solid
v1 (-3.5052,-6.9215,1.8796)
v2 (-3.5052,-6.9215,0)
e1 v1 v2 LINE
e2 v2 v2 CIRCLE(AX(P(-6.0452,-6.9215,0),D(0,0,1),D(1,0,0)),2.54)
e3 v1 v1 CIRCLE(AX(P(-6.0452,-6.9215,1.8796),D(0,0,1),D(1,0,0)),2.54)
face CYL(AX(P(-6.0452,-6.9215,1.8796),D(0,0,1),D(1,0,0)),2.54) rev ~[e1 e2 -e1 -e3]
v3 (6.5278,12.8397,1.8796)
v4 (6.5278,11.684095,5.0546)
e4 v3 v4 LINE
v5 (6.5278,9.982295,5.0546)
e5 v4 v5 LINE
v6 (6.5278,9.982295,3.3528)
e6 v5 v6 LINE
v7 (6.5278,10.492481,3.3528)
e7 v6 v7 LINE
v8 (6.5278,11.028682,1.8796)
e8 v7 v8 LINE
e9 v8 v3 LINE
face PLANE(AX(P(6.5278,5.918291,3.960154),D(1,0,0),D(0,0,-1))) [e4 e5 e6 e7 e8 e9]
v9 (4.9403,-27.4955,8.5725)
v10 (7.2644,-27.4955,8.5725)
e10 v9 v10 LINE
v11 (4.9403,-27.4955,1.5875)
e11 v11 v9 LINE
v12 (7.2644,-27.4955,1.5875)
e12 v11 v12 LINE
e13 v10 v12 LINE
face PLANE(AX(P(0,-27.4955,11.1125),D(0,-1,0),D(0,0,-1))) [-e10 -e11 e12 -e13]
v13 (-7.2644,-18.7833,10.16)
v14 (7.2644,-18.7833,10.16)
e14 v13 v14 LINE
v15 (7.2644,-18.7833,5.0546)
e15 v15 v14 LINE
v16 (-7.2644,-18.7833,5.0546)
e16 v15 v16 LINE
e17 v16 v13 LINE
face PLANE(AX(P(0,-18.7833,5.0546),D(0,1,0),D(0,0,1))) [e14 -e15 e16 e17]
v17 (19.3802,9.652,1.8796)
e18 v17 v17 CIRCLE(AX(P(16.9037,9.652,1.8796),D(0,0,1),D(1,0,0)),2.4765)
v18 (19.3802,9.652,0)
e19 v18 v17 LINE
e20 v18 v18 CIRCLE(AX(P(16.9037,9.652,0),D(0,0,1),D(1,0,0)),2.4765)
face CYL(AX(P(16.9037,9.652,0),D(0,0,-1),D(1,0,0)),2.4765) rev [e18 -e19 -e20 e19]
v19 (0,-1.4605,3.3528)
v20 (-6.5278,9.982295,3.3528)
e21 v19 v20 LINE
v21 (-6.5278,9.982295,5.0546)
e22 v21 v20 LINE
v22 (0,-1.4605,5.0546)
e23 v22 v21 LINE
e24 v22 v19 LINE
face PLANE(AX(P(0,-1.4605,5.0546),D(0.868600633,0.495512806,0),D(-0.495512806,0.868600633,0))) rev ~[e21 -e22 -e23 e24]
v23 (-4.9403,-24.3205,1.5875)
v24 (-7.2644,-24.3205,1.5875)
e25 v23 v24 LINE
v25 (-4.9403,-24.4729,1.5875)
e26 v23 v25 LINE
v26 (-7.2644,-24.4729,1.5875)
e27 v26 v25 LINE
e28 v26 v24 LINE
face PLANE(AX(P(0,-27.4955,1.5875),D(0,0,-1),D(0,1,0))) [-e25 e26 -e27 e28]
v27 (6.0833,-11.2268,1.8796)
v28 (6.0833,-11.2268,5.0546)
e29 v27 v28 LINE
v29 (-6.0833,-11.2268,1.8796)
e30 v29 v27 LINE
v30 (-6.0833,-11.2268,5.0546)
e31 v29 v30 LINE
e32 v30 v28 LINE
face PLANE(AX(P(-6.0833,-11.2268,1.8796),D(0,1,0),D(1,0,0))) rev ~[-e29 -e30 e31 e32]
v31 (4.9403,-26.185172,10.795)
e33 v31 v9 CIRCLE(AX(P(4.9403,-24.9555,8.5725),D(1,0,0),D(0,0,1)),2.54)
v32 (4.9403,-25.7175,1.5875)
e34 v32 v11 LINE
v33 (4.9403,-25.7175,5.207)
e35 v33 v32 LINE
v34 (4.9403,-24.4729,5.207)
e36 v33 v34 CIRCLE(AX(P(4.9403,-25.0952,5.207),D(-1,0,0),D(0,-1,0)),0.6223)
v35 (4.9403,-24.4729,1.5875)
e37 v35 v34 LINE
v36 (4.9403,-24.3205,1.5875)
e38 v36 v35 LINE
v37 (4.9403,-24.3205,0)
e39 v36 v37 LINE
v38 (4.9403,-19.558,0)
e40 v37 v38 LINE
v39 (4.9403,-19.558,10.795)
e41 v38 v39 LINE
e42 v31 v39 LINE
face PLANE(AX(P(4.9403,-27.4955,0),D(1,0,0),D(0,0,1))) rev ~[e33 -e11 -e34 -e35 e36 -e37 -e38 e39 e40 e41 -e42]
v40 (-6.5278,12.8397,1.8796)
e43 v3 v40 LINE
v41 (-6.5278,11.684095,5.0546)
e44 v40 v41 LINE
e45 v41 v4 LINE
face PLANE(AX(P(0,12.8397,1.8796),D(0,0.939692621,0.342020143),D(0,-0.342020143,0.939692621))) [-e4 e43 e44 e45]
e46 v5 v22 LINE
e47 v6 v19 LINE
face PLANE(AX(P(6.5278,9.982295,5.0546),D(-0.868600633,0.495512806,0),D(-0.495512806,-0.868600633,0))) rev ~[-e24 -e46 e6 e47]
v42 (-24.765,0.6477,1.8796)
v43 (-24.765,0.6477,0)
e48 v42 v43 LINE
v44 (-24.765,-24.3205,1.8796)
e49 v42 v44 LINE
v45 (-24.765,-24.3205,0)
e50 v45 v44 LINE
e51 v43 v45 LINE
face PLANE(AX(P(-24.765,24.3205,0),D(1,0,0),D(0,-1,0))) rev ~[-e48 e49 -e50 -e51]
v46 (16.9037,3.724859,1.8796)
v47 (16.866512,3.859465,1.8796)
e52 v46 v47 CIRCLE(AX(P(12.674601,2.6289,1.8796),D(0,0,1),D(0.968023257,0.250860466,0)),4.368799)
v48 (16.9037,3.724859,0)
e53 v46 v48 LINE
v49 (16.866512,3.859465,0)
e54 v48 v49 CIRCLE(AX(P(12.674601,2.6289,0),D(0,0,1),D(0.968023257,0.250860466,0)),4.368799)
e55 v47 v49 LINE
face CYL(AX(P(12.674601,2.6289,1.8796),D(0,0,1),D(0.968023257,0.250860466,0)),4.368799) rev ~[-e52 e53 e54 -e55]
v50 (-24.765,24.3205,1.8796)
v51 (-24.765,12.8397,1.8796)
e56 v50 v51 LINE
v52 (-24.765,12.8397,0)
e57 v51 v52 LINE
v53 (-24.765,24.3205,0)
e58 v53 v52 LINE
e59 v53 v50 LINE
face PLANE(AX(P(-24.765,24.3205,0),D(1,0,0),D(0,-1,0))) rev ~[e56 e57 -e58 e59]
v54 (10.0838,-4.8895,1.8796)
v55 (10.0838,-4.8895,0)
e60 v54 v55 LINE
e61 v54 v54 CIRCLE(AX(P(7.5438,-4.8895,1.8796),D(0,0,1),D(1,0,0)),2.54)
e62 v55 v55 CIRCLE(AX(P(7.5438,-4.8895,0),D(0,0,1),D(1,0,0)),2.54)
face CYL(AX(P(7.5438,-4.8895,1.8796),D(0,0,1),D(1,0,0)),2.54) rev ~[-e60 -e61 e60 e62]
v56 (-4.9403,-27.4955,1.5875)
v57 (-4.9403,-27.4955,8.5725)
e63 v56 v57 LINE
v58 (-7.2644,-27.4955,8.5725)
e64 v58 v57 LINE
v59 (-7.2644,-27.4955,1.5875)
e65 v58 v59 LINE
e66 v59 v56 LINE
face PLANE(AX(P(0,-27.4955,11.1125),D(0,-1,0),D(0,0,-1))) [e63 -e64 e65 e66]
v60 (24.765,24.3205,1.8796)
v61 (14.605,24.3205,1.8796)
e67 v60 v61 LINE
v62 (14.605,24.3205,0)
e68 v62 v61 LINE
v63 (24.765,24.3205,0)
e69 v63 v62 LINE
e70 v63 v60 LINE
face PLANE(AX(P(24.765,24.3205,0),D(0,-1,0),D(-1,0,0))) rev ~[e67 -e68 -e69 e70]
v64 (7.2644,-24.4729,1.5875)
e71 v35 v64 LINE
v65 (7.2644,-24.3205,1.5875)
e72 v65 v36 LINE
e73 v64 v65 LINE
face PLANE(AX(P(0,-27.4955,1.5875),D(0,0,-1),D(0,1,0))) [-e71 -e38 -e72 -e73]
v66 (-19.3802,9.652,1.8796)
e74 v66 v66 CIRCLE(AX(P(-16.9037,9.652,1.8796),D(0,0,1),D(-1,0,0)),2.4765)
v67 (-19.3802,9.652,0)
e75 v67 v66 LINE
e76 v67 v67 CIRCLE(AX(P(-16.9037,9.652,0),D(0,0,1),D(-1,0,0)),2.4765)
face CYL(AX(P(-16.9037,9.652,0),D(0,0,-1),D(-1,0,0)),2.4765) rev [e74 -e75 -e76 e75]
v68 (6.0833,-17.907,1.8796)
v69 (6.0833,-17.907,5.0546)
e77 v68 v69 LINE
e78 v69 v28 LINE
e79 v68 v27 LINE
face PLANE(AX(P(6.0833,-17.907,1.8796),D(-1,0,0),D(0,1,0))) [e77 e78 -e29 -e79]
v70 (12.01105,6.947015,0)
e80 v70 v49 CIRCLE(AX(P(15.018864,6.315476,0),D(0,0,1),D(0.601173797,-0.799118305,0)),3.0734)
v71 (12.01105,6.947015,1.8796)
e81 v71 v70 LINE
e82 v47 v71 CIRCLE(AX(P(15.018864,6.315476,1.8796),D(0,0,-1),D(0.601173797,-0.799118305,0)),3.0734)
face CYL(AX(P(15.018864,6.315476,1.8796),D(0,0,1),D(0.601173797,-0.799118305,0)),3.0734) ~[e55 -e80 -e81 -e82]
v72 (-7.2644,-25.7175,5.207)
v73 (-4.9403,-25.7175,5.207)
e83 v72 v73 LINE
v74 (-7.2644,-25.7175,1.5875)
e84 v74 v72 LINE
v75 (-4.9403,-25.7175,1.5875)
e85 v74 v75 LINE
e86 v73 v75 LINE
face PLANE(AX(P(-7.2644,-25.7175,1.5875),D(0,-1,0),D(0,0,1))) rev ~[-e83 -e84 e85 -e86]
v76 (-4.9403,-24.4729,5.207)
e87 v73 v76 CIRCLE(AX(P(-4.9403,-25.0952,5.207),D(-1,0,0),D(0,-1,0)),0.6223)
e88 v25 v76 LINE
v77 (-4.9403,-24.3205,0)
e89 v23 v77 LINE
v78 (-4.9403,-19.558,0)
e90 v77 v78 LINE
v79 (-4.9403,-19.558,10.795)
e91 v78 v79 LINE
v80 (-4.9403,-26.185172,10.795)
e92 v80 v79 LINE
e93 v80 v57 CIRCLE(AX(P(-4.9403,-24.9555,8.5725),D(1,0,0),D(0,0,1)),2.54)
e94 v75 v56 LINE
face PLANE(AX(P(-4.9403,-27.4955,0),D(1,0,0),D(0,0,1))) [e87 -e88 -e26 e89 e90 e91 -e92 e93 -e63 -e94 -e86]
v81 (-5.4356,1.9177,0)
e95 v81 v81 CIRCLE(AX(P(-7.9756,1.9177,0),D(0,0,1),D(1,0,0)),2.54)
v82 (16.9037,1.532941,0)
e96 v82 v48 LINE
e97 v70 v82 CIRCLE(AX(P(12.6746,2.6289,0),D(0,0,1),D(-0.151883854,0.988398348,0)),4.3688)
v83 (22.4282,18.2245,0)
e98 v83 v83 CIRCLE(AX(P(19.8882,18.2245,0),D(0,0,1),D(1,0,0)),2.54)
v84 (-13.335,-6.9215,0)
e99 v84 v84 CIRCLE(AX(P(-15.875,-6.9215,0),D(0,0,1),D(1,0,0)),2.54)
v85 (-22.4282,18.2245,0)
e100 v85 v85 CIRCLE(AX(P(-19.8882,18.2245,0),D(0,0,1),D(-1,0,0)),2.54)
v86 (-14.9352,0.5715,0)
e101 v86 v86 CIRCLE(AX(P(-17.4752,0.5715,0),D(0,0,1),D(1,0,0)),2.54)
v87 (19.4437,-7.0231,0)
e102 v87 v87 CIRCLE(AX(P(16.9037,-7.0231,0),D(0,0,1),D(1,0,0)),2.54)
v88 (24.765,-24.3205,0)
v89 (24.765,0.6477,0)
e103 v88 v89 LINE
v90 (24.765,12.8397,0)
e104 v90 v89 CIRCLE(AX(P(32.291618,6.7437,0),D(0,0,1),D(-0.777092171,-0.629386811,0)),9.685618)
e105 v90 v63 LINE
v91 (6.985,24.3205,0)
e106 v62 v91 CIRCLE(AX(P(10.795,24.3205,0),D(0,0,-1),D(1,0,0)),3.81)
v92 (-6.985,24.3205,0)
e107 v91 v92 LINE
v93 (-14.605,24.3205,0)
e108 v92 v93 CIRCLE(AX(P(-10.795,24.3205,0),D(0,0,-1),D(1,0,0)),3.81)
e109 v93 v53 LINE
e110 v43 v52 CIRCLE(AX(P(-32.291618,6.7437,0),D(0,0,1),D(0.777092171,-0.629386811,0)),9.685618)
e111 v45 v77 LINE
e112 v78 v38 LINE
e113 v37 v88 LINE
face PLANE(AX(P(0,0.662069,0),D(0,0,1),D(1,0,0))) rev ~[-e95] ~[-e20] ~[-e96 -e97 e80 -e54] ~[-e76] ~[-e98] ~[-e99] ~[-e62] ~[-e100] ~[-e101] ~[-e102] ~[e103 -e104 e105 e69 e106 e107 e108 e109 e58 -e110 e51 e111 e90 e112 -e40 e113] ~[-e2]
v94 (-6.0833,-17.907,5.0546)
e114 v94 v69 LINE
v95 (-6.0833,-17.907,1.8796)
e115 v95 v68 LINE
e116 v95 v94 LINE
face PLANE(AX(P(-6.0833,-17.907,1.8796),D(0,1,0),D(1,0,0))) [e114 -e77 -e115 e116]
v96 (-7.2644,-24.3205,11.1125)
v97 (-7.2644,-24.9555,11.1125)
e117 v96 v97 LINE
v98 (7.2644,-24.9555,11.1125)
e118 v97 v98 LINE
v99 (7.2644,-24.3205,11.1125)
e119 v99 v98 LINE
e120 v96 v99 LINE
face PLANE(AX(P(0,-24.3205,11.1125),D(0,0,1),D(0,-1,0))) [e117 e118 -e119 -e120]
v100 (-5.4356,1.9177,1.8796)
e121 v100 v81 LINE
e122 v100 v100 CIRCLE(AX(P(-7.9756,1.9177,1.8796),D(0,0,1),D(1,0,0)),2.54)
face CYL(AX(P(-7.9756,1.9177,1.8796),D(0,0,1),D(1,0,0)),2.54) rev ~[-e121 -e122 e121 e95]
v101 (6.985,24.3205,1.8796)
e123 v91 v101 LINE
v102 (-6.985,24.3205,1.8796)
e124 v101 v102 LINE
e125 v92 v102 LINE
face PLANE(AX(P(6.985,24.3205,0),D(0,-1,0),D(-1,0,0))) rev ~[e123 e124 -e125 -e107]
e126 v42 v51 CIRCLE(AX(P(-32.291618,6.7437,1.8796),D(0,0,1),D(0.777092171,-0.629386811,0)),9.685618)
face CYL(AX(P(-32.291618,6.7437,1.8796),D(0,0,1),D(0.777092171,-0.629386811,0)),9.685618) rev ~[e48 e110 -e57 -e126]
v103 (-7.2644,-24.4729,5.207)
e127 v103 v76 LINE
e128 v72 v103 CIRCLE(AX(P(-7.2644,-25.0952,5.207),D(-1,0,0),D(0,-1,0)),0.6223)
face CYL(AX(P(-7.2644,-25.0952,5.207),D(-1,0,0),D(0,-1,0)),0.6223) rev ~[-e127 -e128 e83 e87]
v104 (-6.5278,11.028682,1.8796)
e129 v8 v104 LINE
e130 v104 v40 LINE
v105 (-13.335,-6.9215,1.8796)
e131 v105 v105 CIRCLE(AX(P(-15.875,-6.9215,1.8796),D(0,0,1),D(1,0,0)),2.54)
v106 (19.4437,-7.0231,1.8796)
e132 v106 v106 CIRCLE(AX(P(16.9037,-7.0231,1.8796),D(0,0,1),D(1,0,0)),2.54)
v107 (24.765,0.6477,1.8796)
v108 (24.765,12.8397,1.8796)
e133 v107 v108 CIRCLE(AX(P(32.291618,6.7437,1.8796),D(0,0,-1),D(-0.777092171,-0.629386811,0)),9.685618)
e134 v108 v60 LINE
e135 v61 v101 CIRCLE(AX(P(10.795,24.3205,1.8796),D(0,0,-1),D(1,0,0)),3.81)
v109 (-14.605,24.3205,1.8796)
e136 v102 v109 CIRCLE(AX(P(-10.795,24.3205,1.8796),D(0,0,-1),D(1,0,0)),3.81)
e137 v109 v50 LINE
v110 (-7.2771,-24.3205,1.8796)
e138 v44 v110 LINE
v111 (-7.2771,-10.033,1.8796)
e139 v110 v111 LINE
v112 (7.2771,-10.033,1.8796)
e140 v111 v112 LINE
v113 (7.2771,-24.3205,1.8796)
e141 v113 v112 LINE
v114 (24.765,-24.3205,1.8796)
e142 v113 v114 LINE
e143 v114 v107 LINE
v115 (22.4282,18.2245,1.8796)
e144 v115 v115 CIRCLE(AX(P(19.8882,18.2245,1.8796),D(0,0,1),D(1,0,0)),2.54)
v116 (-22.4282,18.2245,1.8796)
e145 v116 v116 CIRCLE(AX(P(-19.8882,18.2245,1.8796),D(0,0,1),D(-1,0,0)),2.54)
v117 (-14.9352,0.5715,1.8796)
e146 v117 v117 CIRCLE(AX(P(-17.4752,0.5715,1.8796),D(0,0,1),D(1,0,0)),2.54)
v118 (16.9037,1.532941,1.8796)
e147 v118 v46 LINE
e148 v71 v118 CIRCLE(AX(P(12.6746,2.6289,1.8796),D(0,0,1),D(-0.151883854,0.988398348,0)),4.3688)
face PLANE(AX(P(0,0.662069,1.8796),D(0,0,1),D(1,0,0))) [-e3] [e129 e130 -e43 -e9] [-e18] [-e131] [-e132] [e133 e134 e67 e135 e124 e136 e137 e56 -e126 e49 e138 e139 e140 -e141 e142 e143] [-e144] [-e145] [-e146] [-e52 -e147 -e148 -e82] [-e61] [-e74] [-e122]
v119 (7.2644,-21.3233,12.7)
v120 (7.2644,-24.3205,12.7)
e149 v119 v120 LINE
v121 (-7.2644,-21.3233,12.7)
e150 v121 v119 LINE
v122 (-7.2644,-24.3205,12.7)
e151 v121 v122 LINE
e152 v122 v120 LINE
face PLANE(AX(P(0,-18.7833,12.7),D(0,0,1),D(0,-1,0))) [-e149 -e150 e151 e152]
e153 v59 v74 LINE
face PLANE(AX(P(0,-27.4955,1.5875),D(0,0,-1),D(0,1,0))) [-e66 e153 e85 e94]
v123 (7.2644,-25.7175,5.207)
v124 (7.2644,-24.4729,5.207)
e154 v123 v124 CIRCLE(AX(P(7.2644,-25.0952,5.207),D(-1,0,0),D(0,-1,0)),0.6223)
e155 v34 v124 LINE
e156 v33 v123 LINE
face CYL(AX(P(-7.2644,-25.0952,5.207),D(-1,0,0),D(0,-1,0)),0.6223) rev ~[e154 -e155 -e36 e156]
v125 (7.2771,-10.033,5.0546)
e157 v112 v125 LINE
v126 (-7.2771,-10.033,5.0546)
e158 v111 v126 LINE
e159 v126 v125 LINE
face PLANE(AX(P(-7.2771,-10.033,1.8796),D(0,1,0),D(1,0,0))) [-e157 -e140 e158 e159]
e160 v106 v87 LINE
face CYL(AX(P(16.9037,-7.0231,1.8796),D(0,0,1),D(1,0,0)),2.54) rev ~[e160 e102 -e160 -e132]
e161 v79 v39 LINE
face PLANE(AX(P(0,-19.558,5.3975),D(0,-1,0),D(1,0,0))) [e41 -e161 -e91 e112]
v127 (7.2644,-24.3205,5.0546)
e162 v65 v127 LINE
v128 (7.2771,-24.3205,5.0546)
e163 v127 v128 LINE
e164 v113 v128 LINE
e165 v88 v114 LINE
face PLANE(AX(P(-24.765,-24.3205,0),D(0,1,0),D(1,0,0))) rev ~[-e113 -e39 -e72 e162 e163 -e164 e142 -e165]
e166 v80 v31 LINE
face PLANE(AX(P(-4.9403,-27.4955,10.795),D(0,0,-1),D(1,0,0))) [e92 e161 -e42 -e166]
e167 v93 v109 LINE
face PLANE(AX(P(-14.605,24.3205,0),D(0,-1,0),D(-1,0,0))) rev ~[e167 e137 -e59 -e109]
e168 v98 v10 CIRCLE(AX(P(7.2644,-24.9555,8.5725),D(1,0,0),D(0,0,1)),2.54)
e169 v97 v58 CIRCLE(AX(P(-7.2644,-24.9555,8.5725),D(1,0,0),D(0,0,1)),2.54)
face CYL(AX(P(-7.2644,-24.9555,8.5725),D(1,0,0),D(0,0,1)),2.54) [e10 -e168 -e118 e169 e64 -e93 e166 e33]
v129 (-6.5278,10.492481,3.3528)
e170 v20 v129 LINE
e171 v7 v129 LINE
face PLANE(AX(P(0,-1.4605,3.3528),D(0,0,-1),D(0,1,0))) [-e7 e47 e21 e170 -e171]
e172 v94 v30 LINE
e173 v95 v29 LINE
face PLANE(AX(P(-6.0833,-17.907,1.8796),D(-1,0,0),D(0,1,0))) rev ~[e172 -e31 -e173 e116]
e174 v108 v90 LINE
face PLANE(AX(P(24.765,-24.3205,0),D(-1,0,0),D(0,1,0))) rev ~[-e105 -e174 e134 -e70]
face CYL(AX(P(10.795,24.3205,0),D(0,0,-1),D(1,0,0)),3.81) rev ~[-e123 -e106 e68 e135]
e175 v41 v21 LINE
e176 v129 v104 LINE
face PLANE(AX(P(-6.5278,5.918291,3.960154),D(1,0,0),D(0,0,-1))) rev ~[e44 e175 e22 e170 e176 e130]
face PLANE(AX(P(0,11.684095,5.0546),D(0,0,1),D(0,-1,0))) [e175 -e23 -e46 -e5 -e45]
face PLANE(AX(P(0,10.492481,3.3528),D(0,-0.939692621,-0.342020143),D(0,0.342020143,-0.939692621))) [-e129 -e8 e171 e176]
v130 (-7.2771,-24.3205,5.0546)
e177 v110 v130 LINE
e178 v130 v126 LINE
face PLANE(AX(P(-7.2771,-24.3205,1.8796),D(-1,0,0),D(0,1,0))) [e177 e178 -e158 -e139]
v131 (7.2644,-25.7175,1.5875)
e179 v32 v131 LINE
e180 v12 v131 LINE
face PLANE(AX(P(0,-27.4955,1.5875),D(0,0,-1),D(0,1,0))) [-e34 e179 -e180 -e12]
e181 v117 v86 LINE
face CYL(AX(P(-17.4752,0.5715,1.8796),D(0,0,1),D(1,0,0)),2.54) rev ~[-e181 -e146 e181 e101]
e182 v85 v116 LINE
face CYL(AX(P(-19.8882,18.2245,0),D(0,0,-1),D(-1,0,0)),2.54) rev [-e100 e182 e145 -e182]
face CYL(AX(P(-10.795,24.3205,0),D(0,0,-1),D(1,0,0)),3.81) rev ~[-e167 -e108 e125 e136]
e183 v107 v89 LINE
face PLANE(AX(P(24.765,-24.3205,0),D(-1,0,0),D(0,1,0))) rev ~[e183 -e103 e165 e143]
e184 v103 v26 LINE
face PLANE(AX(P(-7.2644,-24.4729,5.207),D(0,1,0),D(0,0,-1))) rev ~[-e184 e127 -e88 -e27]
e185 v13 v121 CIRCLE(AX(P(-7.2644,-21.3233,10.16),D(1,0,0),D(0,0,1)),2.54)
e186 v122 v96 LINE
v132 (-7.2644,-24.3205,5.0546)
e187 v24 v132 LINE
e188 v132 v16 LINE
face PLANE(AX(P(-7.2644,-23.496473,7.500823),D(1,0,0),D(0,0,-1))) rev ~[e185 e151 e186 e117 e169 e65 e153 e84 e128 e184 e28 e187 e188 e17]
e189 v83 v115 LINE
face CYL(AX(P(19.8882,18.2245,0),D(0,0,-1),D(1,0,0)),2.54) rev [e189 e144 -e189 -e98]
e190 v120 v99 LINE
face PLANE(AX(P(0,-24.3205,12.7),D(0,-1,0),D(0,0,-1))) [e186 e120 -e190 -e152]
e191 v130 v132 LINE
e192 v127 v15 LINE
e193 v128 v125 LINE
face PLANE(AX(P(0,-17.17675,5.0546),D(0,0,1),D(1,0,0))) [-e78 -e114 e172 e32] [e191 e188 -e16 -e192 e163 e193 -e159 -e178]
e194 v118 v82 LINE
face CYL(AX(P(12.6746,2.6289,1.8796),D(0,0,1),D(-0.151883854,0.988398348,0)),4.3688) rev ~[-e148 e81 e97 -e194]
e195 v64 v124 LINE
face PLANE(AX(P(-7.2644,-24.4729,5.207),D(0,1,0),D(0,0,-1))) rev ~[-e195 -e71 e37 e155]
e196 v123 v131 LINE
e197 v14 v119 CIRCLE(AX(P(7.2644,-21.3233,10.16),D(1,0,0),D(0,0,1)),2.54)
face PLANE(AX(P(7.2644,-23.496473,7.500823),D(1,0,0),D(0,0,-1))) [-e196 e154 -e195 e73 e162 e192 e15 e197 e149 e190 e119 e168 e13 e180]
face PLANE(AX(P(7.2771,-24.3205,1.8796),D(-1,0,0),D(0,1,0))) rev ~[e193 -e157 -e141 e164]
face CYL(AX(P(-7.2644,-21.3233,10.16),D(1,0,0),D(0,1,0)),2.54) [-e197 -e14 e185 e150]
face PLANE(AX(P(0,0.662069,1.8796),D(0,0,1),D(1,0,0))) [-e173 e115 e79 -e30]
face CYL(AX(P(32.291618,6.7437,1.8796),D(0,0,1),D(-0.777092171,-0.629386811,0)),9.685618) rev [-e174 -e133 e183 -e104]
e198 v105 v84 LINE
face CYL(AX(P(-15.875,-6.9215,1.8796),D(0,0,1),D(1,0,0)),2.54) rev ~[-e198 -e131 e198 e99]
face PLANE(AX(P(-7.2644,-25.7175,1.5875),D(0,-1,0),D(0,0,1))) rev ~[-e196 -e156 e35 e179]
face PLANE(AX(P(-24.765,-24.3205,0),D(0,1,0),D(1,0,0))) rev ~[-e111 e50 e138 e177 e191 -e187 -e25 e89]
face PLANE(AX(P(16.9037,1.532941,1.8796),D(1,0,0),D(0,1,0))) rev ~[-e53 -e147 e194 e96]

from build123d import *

# Parameters (mm, degrees)
SKETCH1_R           = 2.54
SKETCH1_R_2         = 2.4765
BOSS_EXTRUDE1_DEPTH = 1.8796
SKETCH2_R           = 2.54
CUT_EXTRUDE1_DEPTH  = 35.760967211
CUT_EXTRUDE2_DEPTH  = 35.760967211
BOSS_EXTRUDE2_DEPTH = 6.5278
CUT_EXTRUDE4_REACH  = 37.076
SKETCH6_W           = 14.5542
SKETCH6_H           = 14.2875
SKETCH6_W_2         = 12.1666
SKETCH6_H_2         = 6.6802
BOSS_EXTRUDE3_DEPTH = 3.175
BOSS_EXTRUDE4_DEPTH = 7.2644
FILLET1_R           = 2.54
SKETCH8_W           = 9.8806
SKETCH8_H           = 10.795
CUT_EXTRUDE5_DEPTH  = 7.9375
CUT_EXTRUDE6_DEPTH  = 45.081458513


with BuildPart() as part:
    # Sketch1 → Boss-Extrude1 (new body)
    with BuildSketch(Plane.XY):
        with BuildLine():
            Line((-24.765, -24.3205), (24.765, -24.3205))
            Line((24.765, -24.3205), (24.765, 24.3205))
            Line((24.765, 24.3205), (14.605, 24.3205))
            ThreePointArc((14.605, 24.3205), (10.795, 20.5105), (6.985, 24.3205))
            Line((6.985, 24.3205), (-6.985, 24.3205))
            ThreePointArc((-6.985, 24.3205), (-10.795, 20.5105), (-14.605, 24.3205))
            Line((-14.605, 24.3205), (-24.765, 24.3205))
            Line((-24.765, 24.3205), (-24.765, -24.3205))
        make_face()
        with Locations((19.8882, 18.2245)):
            Circle(SKETCH1_R, mode=Mode.SUBTRACT)
        with Locations((16.9037, 9.652)):
            Circle(SKETCH1_R_2, mode=Mode.SUBTRACT)
        with Locations(Location((-16.9037, 9.652, 0), (0, 0, 180))):
            Circle(SKETCH1_R_2, mode=Mode.SUBTRACT)
        with Locations(Location((-19.8882, 18.2245, 0), (0, 0, 180))):
            Circle(SKETCH1_R, mode=Mode.SUBTRACT)
    extrude(amount=BOSS_EXTRUDE1_DEPTH)

    # Sketch2 → Cut-Extrude1 (cut, through all)
    with BuildSketch(Plane.XY.offset(1.8796)):
        with Locations((16.9037, -7.0231)):
            Circle(SKETCH2_R)
        with BuildLine():
            Line((16.9037, 1.532940772), (16.9037, 3.724859228))
            ThreePointArc((16.9037, 3.724859228), (16.885643629, 3.792310932), (16.866511516, 3.859465433))
            ThreePointArc((16.866511516, 3.859465433), (13.369701525, 3.722012542), (12.011049817, 6.947014704))
            ThreePointArc((12.011049817, 6.947014704), (9.433252208, -0.300277005), (16.9037, 1.532940772))
        make_face()
        with Locations((-7.9756, 1.9177)):
            Circle(SKETCH2_R)
        with Locations((-17.4752, 0.5715)):
            Circle(SKETCH2_R)
        with Locations((-6.0452, -6.9215)):
            Circle(SKETCH2_R)
        with Locations((-15.875, -6.9215)):
            Circle(SKETCH2_R)
        with Locations((7.5438, -4.8895)):
            Circle(SKETCH2_R)
    extrude(amount=-CUT_EXTRUDE1_DEPTH, mode=Mode.SUBTRACT)

    # Sketch3 → Cut-Extrude2 (cut, through all)
    with BuildSketch(Plane.XY.offset(1.8796)):
        with BuildLine():
            Line((24.765, 12.8397), (24.765, 0.6477))
            ThreePointArc((24.765, 0.6477), (22.606, 6.7437), (24.765, 12.8397))
        make_face()
    cut_extrude2 = extrude(amount=-CUT_EXTRUDE2_DEPTH, mode=Mode.SUBTRACT)

    # Mirror1: Cut-Extrude2 across plane
    add(cut_extrude2.mirror(Plane(origin=(0, 0, 0), x_dir=(0, 0, 1), z_dir=(1, 0, 0))), mode=Mode.SUBTRACT)

    # Sketch4 → Boss-Extrude2 (add, symmetric)
    with BuildSketch(Plane(origin=(0, 0, 0), x_dir=(0, 0, -1), z_dir=(1, 0, 0))):
        Polygon((-1.8796, 12.8397), (-5.0546, 11.684094506), (-5.0546, -1.4605), (-3.3528, -1.4605), (-3.3528, 10.492481318), (-1.8796, 11.028682267), align=None)
    extrude(amount=BOSS_EXTRUDE2_DEPTH, both=True)

    # Sketch5 → Cut-Extrude4 (cut, up to next)
    with BuildSketch(Plane.XY.offset(5.0546), mode=Mode.PRIVATE) as cut_extrude4_sk1:
        Polygon((-6.5278, -1.4605), (0, -1.4605), (-6.5278, 9.982294506), align=None)
    cut_extrude4_tool1 = extrude(cut_extrude4_sk1.sketch, amount=-CUT_EXTRUDE4_REACH, mode=Mode.PRIVATE) & part.part
    # Sketch5 → Cut-Extrude4 (cut, up to next)
    with BuildSketch(Plane.XY.offset(5.0546), mode=Mode.PRIVATE) as cut_extrude4_sk2:
        Polygon((6.5278, 9.982294506), (0, -1.4605), (6.5278, -1.4605), align=None)
    cut_extrude4_tool2 = extrude(cut_extrude4_sk2.sketch, amount=-CUT_EXTRUDE4_REACH, mode=Mode.PRIVATE) & part.part
    add(cut_extrude4_tool1.solids().sort_by_distance((-4.351867, 2.353765, 5.0546))[0], mode=Mode.SUBTRACT)
    add(cut_extrude4_tool2.solids().sort_by_distance((4.351867, 2.353765, 5.0546))[0], mode=Mode.SUBTRACT)

    # Sketch6 → Boss-Extrude3 (add)
    with BuildSketch(Plane.XY.offset(1.8796)):
        with Locations((0, -17.17675)):
            Rectangle(SKETCH6_W, SKETCH6_H)
        with Locations((0, -14.5669)):
            Rectangle(SKETCH6_W_2, SKETCH6_H_2, mode=Mode.SUBTRACT)
    extrude(amount=BOSS_EXTRUDE3_DEPTH)

    # Sketch7 → Boss-Extrude4 (add, symmetric)
    with BuildSketch(Plane(origin=(0, 0, 0), x_dir=(0, 0, -1), z_dir=(1, 0, 0))):
        Polygon((-5.0546, -18.7833), (-12.7, -18.7833), (-12.7, -24.3205), (-11.1125, -24.3205), (-11.1125, -27.4955), (-1.5875, -27.4955), (-1.5875, -24.3205), (-5.0546, -24.3205), align=None)
    extrude(amount=BOSS_EXTRUDE4_DEPTH, both=True)

    # Fillet1
    fillet1_edges = [part.edges().sort_by_distance(p)[0] for p in [
        (0, -18.7833, 12.7),
        (0, -27.4955, 11.1125),
    ]]
    fillet(fillet1_edges, radius=FILLET1_R)

    # Sketch8 → Cut-Extrude5 (cut)
    with BuildSketch(Plane.XZ.offset(27.4955)):
        with Locations((0, 5.3975)):
            Rectangle(SKETCH8_W, SKETCH8_H)
    extrude(amount=-CUT_EXTRUDE5_DEPTH, mode=Mode.SUBTRACT)

    # Sketch9 → Cut-Extrude6 (cut, through all)
    with BuildSketch(Plane.ZY.offset(7.2644)):
        with BuildLine():
            Line((5.207, -24.4729), (1.5875, -24.4729))
            Line((1.5875, -24.4729), (1.5875, -25.7175))
            Line((1.5875, -25.7175), (5.207, -25.7175))
            ThreePointArc((5.207, -25.7175), (5.8293, -25.0952), (5.207, -24.4729))
        make_face()
    extrude(amount=-CUT_EXTRUDE6_DEPTH, mode=Mode.SUBTRACT)


solid = part.part
